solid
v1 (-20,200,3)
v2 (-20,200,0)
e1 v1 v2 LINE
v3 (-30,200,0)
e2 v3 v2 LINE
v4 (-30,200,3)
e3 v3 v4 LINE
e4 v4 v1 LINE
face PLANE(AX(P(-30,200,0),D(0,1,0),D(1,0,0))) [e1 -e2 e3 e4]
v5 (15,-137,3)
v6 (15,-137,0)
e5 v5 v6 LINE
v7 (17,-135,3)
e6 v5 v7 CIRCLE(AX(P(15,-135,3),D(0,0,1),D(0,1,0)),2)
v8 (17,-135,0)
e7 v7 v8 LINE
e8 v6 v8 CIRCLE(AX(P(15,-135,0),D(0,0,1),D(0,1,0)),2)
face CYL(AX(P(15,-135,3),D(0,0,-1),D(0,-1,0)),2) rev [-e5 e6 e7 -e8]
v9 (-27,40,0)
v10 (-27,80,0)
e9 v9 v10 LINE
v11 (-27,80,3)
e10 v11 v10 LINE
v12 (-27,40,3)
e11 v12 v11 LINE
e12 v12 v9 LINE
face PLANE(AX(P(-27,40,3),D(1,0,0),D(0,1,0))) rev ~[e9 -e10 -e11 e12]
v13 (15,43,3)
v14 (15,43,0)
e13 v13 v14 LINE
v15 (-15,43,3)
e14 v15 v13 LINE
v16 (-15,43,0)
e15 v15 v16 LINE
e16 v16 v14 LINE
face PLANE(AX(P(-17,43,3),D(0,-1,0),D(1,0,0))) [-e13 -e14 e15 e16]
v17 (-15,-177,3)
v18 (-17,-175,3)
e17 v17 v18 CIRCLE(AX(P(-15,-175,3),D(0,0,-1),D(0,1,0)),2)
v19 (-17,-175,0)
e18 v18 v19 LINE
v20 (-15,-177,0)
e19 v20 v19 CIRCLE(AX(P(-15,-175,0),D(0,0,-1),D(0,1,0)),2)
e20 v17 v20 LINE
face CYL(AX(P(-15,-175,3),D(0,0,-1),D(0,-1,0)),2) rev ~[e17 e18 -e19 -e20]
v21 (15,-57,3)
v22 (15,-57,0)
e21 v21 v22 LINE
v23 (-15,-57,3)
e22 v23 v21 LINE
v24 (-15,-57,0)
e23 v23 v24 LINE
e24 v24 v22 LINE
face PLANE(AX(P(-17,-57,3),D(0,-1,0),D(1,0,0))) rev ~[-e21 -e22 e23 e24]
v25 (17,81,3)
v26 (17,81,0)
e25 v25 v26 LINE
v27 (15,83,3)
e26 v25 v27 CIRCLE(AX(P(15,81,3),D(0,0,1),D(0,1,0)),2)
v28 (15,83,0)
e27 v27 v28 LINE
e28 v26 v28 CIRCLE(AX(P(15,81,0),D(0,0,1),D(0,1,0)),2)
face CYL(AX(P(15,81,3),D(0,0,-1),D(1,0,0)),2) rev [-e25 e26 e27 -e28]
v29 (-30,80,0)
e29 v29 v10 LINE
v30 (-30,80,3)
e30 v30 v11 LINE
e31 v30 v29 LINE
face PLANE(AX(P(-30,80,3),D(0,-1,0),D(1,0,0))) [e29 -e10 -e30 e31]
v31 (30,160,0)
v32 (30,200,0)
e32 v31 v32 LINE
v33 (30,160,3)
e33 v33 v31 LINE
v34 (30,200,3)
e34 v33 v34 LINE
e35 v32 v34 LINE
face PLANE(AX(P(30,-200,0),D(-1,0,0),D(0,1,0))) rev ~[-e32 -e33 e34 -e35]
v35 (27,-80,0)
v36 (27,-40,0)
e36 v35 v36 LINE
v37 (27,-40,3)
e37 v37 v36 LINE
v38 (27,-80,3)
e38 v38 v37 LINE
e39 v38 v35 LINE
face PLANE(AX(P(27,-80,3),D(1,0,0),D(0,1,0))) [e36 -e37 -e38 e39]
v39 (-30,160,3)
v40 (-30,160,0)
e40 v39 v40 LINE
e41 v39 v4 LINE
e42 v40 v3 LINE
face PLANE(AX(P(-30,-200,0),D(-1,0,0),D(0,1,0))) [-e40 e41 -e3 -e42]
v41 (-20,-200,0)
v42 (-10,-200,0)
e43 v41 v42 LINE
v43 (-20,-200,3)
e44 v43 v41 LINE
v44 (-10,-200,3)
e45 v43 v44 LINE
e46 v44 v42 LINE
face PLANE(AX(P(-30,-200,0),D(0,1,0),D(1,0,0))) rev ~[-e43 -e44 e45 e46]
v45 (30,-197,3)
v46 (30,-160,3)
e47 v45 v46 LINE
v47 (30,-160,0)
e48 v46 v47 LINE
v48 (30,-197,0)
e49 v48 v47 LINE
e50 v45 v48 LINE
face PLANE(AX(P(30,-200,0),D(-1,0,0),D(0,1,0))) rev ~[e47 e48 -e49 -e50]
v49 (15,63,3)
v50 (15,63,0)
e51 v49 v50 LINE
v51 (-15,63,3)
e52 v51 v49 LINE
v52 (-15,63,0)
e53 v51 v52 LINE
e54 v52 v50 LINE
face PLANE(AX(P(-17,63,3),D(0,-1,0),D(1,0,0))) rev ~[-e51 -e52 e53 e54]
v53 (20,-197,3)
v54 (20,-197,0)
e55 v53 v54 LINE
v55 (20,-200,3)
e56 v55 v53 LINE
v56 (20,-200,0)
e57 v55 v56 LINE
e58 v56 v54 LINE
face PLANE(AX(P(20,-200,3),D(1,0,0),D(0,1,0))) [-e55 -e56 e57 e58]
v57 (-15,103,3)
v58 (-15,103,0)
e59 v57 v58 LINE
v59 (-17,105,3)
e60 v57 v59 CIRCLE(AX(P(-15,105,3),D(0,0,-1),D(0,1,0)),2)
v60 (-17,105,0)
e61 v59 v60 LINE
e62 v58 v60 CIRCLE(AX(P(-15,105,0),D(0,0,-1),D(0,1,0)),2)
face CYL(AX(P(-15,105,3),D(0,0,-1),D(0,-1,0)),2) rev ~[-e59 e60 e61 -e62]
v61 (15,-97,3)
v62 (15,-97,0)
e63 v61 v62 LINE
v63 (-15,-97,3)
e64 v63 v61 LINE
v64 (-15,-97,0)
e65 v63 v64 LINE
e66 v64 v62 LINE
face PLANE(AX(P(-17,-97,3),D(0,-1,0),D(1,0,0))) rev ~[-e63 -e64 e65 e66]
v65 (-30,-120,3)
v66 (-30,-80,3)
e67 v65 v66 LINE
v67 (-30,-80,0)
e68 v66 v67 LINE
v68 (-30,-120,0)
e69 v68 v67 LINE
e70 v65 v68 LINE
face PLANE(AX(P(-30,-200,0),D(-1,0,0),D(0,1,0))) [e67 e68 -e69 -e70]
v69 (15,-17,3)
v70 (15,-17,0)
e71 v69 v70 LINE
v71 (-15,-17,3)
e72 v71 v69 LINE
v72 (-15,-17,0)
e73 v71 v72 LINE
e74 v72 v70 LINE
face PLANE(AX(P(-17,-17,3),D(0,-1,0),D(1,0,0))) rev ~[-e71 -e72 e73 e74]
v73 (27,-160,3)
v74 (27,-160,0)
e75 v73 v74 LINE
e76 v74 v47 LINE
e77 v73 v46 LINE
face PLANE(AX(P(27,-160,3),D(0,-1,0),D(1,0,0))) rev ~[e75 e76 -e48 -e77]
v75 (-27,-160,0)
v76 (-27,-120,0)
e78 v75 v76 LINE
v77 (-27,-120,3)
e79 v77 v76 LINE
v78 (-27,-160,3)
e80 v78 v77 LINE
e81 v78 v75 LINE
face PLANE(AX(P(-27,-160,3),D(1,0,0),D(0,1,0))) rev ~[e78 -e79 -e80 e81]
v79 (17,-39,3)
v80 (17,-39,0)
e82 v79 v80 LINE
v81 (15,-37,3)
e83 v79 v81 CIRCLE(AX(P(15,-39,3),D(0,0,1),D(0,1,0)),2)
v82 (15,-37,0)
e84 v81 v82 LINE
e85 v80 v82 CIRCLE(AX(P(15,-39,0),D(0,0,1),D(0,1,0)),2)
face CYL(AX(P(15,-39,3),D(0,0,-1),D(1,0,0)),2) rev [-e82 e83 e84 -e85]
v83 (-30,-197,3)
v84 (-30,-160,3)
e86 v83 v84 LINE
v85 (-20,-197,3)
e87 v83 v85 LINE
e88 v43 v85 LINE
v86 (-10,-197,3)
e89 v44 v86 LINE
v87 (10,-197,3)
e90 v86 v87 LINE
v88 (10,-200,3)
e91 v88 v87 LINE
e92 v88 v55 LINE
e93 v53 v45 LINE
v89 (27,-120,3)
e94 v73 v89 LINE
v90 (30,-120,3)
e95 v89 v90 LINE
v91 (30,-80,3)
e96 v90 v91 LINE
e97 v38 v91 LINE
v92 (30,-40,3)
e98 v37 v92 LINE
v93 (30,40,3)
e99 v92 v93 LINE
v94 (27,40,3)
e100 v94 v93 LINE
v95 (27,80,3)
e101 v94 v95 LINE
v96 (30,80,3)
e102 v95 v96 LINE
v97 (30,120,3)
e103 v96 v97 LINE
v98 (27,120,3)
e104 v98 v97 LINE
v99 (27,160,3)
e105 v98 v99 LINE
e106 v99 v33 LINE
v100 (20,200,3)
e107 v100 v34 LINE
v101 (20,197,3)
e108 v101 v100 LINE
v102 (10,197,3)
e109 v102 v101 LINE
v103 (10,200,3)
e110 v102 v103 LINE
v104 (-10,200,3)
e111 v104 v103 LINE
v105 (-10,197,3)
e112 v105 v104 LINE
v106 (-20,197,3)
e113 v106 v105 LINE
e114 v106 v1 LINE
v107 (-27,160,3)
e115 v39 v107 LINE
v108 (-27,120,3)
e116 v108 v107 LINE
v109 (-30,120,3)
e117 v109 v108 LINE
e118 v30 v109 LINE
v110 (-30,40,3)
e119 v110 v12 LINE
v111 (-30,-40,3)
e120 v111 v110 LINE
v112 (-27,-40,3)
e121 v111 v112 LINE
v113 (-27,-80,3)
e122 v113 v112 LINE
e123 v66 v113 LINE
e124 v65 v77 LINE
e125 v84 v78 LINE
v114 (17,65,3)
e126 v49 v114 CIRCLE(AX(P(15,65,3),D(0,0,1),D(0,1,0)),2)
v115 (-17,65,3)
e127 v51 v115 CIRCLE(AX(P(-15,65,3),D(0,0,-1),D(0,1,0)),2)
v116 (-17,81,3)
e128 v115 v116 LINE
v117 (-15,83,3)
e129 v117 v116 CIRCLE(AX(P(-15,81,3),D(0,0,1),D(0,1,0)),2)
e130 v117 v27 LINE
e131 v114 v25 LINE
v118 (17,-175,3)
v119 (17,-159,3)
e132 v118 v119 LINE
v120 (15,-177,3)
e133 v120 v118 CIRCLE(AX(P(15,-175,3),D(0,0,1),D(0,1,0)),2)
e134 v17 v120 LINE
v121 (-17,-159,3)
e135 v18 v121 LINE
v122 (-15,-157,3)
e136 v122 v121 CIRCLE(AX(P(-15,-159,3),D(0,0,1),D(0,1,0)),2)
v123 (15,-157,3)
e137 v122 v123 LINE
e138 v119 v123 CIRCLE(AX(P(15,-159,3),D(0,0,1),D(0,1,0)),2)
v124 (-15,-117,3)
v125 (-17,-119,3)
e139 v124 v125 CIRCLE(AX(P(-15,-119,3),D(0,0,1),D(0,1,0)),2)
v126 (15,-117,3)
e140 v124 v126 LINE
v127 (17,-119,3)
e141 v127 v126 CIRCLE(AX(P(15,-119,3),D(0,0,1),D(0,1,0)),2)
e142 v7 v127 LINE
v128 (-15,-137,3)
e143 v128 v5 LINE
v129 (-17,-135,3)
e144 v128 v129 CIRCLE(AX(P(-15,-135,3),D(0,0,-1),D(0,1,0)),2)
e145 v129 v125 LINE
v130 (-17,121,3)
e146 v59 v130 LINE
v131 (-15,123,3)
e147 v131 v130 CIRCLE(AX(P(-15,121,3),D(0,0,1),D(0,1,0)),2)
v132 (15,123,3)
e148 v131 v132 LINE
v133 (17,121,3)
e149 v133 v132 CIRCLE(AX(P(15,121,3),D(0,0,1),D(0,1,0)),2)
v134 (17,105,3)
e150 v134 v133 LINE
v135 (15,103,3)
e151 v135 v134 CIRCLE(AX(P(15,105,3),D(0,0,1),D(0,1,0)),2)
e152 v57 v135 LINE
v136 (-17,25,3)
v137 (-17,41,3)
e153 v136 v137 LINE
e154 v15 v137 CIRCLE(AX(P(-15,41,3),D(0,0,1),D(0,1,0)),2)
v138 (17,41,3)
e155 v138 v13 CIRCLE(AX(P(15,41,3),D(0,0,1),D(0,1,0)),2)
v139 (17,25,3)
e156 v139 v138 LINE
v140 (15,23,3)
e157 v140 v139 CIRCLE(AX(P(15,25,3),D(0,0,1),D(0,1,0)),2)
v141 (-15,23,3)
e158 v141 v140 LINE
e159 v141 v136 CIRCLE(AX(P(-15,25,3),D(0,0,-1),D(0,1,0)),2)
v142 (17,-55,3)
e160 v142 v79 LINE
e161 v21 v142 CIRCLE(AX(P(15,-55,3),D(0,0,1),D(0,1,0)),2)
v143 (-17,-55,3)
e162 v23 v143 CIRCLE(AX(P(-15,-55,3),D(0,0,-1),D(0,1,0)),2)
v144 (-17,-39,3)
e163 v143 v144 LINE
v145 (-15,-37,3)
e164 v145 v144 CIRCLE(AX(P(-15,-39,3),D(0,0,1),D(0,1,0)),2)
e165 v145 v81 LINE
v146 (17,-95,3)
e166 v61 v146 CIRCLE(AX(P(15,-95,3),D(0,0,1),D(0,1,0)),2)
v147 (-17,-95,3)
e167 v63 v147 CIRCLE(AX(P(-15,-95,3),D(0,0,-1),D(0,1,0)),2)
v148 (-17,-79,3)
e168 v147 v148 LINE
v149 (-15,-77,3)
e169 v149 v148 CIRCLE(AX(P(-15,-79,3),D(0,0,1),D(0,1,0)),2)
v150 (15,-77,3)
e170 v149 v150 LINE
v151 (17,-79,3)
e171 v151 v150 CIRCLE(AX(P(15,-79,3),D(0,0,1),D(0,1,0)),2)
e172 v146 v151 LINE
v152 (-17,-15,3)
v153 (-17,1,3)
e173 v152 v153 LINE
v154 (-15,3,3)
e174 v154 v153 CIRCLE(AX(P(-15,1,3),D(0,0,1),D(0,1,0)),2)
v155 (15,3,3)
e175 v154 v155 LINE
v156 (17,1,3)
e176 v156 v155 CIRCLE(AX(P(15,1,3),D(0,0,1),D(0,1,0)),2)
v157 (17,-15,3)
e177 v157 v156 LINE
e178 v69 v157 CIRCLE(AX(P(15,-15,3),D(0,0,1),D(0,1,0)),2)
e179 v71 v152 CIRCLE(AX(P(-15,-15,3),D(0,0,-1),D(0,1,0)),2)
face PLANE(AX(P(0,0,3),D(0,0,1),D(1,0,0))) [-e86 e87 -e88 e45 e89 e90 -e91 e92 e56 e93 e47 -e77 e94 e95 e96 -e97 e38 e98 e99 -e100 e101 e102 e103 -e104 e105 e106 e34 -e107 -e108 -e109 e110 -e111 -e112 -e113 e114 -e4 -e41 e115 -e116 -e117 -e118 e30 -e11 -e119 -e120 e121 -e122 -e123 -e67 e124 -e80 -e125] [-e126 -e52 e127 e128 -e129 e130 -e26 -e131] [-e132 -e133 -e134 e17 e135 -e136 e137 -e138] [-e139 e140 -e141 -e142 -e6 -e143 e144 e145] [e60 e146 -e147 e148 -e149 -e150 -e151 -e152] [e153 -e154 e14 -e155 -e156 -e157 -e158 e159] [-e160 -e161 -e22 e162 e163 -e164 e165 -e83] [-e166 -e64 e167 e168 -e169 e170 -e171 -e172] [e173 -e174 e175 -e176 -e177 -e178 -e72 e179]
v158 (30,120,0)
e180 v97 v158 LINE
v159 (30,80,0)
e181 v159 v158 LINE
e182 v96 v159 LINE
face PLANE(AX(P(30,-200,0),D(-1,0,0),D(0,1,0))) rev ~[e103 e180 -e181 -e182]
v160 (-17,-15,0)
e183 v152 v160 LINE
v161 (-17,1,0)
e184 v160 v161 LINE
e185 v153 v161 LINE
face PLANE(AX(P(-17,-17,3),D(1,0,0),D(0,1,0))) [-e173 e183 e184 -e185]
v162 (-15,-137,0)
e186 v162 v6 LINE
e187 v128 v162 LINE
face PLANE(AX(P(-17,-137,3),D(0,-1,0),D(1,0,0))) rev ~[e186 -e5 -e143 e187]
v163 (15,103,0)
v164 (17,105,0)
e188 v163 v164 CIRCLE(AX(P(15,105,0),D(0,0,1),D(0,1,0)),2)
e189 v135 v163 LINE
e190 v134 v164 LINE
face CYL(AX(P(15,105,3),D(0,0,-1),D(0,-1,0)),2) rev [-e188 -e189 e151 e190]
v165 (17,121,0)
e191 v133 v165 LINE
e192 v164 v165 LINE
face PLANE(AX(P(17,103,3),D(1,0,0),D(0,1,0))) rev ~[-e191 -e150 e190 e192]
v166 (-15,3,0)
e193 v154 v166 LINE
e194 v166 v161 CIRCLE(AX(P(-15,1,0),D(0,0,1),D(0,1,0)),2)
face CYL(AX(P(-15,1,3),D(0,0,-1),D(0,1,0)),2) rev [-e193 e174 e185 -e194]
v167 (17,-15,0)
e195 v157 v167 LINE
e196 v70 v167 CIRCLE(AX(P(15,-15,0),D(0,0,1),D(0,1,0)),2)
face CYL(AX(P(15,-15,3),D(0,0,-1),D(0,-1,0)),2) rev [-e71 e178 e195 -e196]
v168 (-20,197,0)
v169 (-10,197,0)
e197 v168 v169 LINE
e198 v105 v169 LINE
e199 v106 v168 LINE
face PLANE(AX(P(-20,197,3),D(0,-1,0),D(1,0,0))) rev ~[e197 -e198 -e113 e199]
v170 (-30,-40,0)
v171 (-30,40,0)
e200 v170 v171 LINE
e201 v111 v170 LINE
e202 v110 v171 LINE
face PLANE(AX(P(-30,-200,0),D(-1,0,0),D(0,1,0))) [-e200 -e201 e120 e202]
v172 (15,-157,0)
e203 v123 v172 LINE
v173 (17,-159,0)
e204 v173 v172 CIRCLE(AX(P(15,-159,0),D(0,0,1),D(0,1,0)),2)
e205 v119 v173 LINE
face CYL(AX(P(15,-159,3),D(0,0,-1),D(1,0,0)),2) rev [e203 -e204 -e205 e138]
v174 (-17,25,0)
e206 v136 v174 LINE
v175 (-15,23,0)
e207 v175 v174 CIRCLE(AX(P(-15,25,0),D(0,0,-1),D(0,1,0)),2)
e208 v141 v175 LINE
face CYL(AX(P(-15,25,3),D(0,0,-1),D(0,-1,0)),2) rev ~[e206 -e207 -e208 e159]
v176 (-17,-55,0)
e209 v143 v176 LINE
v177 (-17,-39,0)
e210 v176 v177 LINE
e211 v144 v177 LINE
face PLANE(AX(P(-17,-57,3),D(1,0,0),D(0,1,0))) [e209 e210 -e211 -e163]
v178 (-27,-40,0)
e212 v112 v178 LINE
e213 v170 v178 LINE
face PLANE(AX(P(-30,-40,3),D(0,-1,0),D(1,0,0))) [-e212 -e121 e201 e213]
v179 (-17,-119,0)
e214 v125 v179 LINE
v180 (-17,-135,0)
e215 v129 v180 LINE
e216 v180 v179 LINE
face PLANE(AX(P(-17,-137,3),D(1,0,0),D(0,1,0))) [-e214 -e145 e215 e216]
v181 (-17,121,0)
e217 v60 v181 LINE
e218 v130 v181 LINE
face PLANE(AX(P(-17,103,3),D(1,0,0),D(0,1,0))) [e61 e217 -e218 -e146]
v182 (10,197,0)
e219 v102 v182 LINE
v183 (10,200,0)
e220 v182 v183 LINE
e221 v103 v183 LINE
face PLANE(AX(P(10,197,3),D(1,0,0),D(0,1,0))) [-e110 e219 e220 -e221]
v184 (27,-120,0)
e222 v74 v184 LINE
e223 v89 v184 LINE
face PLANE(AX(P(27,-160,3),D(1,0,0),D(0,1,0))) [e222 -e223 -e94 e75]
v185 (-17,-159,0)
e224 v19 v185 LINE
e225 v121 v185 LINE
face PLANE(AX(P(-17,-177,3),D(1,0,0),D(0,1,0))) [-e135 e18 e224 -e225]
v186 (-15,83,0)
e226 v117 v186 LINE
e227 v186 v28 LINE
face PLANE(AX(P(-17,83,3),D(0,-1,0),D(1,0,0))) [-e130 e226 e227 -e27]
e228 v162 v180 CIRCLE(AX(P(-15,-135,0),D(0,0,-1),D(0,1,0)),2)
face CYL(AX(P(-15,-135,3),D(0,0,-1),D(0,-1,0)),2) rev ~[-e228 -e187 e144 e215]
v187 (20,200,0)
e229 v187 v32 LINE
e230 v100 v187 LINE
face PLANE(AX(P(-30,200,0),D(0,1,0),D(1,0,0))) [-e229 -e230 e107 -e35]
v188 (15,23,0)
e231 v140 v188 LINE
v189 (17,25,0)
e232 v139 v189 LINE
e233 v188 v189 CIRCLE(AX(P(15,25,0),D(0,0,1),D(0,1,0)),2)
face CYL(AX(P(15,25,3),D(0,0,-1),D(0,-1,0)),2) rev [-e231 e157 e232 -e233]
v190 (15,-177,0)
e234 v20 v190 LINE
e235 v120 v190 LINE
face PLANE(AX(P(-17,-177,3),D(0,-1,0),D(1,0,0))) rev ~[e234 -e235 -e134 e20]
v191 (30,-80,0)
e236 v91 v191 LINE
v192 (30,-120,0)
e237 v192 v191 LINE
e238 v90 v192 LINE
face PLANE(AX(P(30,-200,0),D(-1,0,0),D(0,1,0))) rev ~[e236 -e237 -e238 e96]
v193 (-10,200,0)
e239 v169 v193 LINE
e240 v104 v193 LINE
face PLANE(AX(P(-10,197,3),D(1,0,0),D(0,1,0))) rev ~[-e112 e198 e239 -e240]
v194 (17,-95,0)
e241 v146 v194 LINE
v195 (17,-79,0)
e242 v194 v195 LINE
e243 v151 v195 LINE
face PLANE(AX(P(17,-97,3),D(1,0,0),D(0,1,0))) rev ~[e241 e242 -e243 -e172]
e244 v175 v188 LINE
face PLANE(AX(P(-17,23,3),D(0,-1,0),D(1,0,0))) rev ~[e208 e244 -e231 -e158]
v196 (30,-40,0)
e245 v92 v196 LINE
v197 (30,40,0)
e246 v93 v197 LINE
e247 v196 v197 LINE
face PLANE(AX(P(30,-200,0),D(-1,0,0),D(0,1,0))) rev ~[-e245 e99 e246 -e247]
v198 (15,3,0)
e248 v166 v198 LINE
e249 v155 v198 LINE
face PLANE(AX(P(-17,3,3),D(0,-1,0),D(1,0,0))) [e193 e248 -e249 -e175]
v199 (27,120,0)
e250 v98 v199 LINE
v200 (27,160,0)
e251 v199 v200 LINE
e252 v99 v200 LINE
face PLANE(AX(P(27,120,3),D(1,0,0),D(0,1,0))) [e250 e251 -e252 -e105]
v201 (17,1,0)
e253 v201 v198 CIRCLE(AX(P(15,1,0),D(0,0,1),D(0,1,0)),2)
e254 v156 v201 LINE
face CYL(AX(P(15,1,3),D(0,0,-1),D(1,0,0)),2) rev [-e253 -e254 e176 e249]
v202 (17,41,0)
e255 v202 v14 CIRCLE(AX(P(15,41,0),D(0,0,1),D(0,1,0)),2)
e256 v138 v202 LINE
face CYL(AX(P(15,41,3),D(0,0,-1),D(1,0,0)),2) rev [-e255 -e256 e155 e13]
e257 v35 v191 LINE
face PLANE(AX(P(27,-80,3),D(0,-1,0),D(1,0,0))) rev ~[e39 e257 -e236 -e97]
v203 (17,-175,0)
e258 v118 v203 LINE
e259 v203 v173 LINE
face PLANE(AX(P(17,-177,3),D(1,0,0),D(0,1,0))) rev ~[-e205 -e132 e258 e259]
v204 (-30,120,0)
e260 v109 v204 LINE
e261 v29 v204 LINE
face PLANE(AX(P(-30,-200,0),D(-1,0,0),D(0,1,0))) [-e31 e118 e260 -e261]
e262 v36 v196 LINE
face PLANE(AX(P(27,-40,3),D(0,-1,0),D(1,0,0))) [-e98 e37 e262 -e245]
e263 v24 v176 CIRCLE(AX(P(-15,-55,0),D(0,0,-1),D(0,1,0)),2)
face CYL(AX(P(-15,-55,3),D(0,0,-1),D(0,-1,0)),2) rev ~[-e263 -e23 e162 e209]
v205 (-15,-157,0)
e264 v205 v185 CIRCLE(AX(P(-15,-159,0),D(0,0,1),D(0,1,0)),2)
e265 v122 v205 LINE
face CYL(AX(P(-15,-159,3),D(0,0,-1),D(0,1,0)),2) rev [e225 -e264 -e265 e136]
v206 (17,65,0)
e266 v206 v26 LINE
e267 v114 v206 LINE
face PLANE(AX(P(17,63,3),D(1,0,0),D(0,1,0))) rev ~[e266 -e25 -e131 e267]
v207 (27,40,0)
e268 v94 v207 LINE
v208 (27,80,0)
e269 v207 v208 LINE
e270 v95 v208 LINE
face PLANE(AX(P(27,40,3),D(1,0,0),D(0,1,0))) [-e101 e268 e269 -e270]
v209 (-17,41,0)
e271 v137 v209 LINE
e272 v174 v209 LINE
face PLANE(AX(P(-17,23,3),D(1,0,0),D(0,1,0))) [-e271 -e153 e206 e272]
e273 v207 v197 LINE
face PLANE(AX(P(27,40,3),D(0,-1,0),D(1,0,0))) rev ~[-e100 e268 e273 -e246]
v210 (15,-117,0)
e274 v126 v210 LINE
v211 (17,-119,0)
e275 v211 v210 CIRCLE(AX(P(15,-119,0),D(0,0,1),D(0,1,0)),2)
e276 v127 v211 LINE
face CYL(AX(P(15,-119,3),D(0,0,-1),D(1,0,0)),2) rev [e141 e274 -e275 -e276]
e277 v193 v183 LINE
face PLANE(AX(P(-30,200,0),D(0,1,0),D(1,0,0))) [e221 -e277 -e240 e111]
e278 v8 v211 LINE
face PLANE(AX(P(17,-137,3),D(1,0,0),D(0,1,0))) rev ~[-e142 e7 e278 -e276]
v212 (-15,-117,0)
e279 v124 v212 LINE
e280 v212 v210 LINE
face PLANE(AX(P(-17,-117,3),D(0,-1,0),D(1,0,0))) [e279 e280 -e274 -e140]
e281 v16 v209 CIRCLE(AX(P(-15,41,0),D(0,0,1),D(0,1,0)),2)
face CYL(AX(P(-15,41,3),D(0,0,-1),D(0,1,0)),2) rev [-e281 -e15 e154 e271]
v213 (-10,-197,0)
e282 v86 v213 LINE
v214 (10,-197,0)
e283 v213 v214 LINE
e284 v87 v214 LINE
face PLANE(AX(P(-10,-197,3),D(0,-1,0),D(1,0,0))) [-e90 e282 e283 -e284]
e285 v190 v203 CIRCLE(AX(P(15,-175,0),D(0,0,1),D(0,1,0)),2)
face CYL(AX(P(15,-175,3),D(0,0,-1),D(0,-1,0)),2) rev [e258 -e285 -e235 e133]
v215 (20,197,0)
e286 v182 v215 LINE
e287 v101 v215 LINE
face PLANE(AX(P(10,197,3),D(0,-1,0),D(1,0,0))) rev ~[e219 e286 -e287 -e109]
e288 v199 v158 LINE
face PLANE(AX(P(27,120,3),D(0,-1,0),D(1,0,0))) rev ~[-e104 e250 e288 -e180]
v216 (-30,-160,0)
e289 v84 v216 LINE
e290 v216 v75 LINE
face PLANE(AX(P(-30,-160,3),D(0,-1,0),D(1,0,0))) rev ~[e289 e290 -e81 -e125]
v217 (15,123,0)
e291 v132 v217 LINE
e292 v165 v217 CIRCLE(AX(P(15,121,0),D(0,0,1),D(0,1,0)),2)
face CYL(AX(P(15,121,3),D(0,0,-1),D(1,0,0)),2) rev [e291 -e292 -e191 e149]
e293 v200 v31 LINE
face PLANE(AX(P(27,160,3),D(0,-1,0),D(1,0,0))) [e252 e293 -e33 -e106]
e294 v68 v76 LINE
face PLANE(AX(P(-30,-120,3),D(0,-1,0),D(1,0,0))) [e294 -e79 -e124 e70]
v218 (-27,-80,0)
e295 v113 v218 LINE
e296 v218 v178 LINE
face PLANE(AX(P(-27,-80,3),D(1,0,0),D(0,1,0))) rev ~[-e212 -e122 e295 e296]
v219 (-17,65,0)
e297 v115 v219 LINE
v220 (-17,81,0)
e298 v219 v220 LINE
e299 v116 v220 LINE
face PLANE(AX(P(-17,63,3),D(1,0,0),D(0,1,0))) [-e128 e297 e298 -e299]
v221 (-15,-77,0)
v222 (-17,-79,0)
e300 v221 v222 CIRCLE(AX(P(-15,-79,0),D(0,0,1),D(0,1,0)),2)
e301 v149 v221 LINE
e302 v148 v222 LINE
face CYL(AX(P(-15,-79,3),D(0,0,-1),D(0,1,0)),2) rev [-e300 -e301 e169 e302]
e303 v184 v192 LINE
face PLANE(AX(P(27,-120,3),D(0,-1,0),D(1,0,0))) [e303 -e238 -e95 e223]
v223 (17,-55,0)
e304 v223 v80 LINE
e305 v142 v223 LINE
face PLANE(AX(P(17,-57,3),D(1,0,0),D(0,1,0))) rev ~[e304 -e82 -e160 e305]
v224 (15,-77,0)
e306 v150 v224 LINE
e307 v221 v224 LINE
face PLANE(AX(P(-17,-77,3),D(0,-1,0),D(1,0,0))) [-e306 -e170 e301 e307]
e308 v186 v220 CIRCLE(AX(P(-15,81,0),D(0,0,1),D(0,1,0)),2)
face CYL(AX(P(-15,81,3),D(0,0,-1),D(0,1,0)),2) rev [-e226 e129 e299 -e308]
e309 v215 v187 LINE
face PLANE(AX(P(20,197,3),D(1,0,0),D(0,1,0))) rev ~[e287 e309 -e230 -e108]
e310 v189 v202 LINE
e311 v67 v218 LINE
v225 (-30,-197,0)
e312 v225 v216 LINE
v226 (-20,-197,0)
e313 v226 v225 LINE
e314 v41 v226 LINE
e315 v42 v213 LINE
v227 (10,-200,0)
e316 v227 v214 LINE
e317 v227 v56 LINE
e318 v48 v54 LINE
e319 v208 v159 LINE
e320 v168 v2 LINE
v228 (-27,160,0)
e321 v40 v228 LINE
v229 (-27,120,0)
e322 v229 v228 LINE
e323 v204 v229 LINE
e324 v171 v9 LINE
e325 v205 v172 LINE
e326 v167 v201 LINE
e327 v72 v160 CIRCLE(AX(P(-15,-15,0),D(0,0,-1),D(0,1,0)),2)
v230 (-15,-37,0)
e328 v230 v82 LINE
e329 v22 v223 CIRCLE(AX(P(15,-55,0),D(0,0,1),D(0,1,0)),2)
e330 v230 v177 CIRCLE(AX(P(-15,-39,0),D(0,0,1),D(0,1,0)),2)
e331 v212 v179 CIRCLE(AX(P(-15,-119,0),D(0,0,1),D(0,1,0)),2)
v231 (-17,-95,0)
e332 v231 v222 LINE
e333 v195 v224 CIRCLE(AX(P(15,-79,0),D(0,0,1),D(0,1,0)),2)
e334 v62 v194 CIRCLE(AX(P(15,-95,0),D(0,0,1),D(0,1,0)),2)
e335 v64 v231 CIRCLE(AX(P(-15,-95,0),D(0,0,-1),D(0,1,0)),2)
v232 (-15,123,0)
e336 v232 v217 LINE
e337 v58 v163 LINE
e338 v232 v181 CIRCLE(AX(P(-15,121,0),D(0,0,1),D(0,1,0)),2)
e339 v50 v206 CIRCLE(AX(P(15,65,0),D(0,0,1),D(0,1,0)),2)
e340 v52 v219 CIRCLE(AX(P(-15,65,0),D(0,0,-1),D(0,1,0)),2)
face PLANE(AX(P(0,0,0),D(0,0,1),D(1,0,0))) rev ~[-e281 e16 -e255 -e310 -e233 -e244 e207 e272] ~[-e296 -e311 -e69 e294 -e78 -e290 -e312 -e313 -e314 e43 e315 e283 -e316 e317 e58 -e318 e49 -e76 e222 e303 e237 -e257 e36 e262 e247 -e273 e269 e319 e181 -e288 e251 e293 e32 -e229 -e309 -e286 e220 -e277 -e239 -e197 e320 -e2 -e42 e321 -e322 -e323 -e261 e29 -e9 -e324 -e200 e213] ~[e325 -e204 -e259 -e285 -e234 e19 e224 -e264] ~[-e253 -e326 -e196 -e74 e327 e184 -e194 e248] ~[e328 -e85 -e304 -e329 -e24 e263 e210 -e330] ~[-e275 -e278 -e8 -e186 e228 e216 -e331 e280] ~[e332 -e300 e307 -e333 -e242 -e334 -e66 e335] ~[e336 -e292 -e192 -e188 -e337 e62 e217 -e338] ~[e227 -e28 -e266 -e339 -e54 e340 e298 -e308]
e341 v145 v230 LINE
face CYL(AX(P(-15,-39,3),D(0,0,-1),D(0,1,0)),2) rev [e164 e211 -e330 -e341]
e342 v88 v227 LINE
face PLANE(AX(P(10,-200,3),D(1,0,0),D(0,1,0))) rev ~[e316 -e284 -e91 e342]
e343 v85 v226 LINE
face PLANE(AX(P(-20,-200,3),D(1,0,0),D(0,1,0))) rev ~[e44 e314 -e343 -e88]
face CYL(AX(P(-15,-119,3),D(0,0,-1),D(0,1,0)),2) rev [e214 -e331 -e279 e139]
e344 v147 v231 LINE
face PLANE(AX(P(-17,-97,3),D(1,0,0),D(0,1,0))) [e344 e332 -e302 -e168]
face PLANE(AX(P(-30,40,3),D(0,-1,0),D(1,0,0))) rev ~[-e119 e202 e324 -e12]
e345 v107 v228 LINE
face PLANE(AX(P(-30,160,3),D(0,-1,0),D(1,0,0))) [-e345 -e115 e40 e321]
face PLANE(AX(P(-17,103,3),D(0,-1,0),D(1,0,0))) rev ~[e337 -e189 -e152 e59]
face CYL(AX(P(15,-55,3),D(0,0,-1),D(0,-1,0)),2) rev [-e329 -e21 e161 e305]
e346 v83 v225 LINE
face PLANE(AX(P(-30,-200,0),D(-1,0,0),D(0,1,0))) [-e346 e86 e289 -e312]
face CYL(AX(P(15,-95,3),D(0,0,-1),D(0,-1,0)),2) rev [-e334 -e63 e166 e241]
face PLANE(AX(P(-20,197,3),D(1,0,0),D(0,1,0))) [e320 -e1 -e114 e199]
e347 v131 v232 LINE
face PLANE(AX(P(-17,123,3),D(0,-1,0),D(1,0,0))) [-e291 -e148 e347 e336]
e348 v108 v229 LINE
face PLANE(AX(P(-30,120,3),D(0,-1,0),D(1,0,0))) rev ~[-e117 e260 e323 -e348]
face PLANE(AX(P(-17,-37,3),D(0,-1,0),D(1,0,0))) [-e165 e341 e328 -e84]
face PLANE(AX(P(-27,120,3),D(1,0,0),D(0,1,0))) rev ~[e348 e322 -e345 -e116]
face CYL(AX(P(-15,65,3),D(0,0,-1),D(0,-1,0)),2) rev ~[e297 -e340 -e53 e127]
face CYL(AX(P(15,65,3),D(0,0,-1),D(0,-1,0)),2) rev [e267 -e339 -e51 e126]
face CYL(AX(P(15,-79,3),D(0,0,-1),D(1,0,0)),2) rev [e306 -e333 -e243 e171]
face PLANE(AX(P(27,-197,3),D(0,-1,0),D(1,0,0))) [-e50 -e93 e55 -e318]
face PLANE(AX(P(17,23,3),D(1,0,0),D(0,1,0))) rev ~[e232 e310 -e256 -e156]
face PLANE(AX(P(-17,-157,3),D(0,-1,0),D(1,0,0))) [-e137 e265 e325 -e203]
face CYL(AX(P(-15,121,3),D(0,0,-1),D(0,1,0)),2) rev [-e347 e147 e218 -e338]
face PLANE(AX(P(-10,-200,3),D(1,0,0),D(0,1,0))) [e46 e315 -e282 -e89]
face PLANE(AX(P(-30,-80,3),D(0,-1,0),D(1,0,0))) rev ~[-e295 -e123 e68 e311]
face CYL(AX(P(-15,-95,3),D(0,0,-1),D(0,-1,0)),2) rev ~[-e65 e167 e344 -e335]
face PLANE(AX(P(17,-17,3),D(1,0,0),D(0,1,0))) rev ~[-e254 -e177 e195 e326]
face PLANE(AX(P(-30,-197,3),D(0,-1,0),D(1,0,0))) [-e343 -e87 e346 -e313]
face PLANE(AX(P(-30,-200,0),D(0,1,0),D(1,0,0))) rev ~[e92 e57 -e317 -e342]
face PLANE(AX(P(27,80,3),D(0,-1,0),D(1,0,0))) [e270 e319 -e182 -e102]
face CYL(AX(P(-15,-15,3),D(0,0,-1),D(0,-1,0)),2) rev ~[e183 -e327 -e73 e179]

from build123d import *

# Parameters (mm, degrees)
SKETCH1_W           = 60
SKETCH1_H           = 400
BOSS_EXTRUDE1_DEPTH = 3
SKETCH2_W           = 3
SKETCH2_H           = 40
SKETCH2_W_2         = 10
SKETCH2_H_2         = 3
SKETCH2_W_3         = 7
SKETCH2_W_4         = 20
CUT_EXTRUDE3_DEPTH  = 3
SKETCH3_W           = 3
SKETCH3_H           = 3
CUT_EXTRUDE4_DEPTH  = 3
SKETCH4_W           = 34
SKETCH4_H           = 20
CUT_EXTRUDE5_DEPTH  = 3
FILLET1_R           = 2


with BuildPart() as part:
    # Sketch1 → Boss-Extrude1 (new body)
    with BuildSketch(Plane.XY):
        Rectangle(SKETCH1_W, SKETCH1_H)
    extrude(amount=BOSS_EXTRUDE1_DEPTH)

    # Sketch2 → Cut-Extrude3 (cut)
    with BuildSketch(Plane.XY.offset(3)):
        with Locations((-28.5, 60)):
            Rectangle(SKETCH2_W, SKETCH2_H)
        with Locations((-28.5, -60)):
            Rectangle(SKETCH2_W, SKETCH2_H)
        with Locations((-28.5, 140)):
            Rectangle(SKETCH2_W, SKETCH2_H)
        with Locations((-28.5, -140)):
            Rectangle(SKETCH2_W, SKETCH2_H)
        with Locations((-15, 198.5)):
            Rectangle(SKETCH2_W_2, SKETCH2_H_2)
        with Locations((-23.5, -198.5)):
            Rectangle(SKETCH2_W_3, SKETCH2_H_2)
        with Locations((15, 198.5)):
            Rectangle(SKETCH2_W_2, SKETCH2_H_2)
        with Locations((0, -198.5)):
            Rectangle(SKETCH2_W_4, SKETCH2_H_2)
        with Locations((23.5, -198.5)):
            Rectangle(SKETCH2_W_3, SKETCH2_H_2)
        with Locations((28.5, 140)):
            Rectangle(SKETCH2_W, SKETCH2_H)
        with Locations((28.5, -140)):
            Rectangle(SKETCH2_W, SKETCH2_H)
        with Locations((28.5, 60)):
            Rectangle(SKETCH2_W, SKETCH2_H)
        with Locations((28.5, -60)):
            Rectangle(SKETCH2_W, SKETCH2_H)
    extrude(amount=-CUT_EXTRUDE3_DEPTH, mode=Mode.SUBTRACT)

    # Sketch3 → Cut-Extrude4 (cut)
    with BuildSketch(Plane.XY.offset(3)):
        with Locations((-28.5, -198.5)):
            Rectangle(SKETCH3_W, SKETCH3_H)
        with Locations((28.5, -198.5)):
            Rectangle(SKETCH3_W, SKETCH3_H)
    extrude(amount=-CUT_EXTRUDE4_DEPTH, mode=Mode.SUBTRACT)

    # Sketch4 → Cut-Extrude5 (cut)
    with BuildSketch(Plane.XY.offset(3)):
        with Locations((0, -167)):
            Rectangle(SKETCH4_W, SKETCH4_H)
        with Locations((0, -127)):
            Rectangle(SKETCH4_W, SKETCH4_H)
        with Locations((0, -87)):
            Rectangle(SKETCH4_W, SKETCH4_H)
        with Locations((0, -47)):
            Rectangle(SKETCH4_W, SKETCH4_H)
        with Locations((0, -7)):
            Rectangle(SKETCH4_W, SKETCH4_H)
        with Locations((0, 33)):
            Rectangle(SKETCH4_W, SKETCH4_H)
        with Locations((0, 73)):
            Rectangle(SKETCH4_W, SKETCH4_H)
        with Locations((0, 113)):
            Rectangle(SKETCH4_W, SKETCH4_H)
    extrude(amount=-CUT_EXTRUDE5_DEPTH, mode=Mode.SUBTRACT)

    # Fillet1
    fillet1_edges = [part.edges().sort_by_distance(p)[0] for p in [
        (17, -157, 1.5),
        (17, -177, 1.5),
        (-17, -177, 1.5),
        (-17, -157, 1.5),
        (17, -117, 1.5),
        (17, -137, 1.5),
        (-17, -137, 1.5),
        (-17, -117, 1.5),
        (17, -77, 1.5),
        (17, -97, 1.5),
        (-17, -97, 1.5),
        (-17, -77, 1.5),
        (17, -37, 1.5),
        (17, -57, 1.5),
        (-17, -57, 1.5),
        (-17, -37, 1.5),
        (17, 3, 1.5),
        (17, -17, 1.5),
        (-17, -17, 1.5),
        (-17, 3, 1.5),
        (17, 43, 1.5),
        (17, 23, 1.5),
        (-17, 23, 1.5),
        (-17, 43, 1.5),
        (17, 83, 1.5),
        (17, 63, 1.5),
        (-17, 63, 1.5),
        (-17, 83, 1.5),
        (17, 123, 1.5),
        (17, 103, 1.5),
        (-17, 103, 1.5),
        (-17, 123, 1.5),
    ]]
    fillet(fillet1_edges, radius=FILLET1_R)


solid = part.part
